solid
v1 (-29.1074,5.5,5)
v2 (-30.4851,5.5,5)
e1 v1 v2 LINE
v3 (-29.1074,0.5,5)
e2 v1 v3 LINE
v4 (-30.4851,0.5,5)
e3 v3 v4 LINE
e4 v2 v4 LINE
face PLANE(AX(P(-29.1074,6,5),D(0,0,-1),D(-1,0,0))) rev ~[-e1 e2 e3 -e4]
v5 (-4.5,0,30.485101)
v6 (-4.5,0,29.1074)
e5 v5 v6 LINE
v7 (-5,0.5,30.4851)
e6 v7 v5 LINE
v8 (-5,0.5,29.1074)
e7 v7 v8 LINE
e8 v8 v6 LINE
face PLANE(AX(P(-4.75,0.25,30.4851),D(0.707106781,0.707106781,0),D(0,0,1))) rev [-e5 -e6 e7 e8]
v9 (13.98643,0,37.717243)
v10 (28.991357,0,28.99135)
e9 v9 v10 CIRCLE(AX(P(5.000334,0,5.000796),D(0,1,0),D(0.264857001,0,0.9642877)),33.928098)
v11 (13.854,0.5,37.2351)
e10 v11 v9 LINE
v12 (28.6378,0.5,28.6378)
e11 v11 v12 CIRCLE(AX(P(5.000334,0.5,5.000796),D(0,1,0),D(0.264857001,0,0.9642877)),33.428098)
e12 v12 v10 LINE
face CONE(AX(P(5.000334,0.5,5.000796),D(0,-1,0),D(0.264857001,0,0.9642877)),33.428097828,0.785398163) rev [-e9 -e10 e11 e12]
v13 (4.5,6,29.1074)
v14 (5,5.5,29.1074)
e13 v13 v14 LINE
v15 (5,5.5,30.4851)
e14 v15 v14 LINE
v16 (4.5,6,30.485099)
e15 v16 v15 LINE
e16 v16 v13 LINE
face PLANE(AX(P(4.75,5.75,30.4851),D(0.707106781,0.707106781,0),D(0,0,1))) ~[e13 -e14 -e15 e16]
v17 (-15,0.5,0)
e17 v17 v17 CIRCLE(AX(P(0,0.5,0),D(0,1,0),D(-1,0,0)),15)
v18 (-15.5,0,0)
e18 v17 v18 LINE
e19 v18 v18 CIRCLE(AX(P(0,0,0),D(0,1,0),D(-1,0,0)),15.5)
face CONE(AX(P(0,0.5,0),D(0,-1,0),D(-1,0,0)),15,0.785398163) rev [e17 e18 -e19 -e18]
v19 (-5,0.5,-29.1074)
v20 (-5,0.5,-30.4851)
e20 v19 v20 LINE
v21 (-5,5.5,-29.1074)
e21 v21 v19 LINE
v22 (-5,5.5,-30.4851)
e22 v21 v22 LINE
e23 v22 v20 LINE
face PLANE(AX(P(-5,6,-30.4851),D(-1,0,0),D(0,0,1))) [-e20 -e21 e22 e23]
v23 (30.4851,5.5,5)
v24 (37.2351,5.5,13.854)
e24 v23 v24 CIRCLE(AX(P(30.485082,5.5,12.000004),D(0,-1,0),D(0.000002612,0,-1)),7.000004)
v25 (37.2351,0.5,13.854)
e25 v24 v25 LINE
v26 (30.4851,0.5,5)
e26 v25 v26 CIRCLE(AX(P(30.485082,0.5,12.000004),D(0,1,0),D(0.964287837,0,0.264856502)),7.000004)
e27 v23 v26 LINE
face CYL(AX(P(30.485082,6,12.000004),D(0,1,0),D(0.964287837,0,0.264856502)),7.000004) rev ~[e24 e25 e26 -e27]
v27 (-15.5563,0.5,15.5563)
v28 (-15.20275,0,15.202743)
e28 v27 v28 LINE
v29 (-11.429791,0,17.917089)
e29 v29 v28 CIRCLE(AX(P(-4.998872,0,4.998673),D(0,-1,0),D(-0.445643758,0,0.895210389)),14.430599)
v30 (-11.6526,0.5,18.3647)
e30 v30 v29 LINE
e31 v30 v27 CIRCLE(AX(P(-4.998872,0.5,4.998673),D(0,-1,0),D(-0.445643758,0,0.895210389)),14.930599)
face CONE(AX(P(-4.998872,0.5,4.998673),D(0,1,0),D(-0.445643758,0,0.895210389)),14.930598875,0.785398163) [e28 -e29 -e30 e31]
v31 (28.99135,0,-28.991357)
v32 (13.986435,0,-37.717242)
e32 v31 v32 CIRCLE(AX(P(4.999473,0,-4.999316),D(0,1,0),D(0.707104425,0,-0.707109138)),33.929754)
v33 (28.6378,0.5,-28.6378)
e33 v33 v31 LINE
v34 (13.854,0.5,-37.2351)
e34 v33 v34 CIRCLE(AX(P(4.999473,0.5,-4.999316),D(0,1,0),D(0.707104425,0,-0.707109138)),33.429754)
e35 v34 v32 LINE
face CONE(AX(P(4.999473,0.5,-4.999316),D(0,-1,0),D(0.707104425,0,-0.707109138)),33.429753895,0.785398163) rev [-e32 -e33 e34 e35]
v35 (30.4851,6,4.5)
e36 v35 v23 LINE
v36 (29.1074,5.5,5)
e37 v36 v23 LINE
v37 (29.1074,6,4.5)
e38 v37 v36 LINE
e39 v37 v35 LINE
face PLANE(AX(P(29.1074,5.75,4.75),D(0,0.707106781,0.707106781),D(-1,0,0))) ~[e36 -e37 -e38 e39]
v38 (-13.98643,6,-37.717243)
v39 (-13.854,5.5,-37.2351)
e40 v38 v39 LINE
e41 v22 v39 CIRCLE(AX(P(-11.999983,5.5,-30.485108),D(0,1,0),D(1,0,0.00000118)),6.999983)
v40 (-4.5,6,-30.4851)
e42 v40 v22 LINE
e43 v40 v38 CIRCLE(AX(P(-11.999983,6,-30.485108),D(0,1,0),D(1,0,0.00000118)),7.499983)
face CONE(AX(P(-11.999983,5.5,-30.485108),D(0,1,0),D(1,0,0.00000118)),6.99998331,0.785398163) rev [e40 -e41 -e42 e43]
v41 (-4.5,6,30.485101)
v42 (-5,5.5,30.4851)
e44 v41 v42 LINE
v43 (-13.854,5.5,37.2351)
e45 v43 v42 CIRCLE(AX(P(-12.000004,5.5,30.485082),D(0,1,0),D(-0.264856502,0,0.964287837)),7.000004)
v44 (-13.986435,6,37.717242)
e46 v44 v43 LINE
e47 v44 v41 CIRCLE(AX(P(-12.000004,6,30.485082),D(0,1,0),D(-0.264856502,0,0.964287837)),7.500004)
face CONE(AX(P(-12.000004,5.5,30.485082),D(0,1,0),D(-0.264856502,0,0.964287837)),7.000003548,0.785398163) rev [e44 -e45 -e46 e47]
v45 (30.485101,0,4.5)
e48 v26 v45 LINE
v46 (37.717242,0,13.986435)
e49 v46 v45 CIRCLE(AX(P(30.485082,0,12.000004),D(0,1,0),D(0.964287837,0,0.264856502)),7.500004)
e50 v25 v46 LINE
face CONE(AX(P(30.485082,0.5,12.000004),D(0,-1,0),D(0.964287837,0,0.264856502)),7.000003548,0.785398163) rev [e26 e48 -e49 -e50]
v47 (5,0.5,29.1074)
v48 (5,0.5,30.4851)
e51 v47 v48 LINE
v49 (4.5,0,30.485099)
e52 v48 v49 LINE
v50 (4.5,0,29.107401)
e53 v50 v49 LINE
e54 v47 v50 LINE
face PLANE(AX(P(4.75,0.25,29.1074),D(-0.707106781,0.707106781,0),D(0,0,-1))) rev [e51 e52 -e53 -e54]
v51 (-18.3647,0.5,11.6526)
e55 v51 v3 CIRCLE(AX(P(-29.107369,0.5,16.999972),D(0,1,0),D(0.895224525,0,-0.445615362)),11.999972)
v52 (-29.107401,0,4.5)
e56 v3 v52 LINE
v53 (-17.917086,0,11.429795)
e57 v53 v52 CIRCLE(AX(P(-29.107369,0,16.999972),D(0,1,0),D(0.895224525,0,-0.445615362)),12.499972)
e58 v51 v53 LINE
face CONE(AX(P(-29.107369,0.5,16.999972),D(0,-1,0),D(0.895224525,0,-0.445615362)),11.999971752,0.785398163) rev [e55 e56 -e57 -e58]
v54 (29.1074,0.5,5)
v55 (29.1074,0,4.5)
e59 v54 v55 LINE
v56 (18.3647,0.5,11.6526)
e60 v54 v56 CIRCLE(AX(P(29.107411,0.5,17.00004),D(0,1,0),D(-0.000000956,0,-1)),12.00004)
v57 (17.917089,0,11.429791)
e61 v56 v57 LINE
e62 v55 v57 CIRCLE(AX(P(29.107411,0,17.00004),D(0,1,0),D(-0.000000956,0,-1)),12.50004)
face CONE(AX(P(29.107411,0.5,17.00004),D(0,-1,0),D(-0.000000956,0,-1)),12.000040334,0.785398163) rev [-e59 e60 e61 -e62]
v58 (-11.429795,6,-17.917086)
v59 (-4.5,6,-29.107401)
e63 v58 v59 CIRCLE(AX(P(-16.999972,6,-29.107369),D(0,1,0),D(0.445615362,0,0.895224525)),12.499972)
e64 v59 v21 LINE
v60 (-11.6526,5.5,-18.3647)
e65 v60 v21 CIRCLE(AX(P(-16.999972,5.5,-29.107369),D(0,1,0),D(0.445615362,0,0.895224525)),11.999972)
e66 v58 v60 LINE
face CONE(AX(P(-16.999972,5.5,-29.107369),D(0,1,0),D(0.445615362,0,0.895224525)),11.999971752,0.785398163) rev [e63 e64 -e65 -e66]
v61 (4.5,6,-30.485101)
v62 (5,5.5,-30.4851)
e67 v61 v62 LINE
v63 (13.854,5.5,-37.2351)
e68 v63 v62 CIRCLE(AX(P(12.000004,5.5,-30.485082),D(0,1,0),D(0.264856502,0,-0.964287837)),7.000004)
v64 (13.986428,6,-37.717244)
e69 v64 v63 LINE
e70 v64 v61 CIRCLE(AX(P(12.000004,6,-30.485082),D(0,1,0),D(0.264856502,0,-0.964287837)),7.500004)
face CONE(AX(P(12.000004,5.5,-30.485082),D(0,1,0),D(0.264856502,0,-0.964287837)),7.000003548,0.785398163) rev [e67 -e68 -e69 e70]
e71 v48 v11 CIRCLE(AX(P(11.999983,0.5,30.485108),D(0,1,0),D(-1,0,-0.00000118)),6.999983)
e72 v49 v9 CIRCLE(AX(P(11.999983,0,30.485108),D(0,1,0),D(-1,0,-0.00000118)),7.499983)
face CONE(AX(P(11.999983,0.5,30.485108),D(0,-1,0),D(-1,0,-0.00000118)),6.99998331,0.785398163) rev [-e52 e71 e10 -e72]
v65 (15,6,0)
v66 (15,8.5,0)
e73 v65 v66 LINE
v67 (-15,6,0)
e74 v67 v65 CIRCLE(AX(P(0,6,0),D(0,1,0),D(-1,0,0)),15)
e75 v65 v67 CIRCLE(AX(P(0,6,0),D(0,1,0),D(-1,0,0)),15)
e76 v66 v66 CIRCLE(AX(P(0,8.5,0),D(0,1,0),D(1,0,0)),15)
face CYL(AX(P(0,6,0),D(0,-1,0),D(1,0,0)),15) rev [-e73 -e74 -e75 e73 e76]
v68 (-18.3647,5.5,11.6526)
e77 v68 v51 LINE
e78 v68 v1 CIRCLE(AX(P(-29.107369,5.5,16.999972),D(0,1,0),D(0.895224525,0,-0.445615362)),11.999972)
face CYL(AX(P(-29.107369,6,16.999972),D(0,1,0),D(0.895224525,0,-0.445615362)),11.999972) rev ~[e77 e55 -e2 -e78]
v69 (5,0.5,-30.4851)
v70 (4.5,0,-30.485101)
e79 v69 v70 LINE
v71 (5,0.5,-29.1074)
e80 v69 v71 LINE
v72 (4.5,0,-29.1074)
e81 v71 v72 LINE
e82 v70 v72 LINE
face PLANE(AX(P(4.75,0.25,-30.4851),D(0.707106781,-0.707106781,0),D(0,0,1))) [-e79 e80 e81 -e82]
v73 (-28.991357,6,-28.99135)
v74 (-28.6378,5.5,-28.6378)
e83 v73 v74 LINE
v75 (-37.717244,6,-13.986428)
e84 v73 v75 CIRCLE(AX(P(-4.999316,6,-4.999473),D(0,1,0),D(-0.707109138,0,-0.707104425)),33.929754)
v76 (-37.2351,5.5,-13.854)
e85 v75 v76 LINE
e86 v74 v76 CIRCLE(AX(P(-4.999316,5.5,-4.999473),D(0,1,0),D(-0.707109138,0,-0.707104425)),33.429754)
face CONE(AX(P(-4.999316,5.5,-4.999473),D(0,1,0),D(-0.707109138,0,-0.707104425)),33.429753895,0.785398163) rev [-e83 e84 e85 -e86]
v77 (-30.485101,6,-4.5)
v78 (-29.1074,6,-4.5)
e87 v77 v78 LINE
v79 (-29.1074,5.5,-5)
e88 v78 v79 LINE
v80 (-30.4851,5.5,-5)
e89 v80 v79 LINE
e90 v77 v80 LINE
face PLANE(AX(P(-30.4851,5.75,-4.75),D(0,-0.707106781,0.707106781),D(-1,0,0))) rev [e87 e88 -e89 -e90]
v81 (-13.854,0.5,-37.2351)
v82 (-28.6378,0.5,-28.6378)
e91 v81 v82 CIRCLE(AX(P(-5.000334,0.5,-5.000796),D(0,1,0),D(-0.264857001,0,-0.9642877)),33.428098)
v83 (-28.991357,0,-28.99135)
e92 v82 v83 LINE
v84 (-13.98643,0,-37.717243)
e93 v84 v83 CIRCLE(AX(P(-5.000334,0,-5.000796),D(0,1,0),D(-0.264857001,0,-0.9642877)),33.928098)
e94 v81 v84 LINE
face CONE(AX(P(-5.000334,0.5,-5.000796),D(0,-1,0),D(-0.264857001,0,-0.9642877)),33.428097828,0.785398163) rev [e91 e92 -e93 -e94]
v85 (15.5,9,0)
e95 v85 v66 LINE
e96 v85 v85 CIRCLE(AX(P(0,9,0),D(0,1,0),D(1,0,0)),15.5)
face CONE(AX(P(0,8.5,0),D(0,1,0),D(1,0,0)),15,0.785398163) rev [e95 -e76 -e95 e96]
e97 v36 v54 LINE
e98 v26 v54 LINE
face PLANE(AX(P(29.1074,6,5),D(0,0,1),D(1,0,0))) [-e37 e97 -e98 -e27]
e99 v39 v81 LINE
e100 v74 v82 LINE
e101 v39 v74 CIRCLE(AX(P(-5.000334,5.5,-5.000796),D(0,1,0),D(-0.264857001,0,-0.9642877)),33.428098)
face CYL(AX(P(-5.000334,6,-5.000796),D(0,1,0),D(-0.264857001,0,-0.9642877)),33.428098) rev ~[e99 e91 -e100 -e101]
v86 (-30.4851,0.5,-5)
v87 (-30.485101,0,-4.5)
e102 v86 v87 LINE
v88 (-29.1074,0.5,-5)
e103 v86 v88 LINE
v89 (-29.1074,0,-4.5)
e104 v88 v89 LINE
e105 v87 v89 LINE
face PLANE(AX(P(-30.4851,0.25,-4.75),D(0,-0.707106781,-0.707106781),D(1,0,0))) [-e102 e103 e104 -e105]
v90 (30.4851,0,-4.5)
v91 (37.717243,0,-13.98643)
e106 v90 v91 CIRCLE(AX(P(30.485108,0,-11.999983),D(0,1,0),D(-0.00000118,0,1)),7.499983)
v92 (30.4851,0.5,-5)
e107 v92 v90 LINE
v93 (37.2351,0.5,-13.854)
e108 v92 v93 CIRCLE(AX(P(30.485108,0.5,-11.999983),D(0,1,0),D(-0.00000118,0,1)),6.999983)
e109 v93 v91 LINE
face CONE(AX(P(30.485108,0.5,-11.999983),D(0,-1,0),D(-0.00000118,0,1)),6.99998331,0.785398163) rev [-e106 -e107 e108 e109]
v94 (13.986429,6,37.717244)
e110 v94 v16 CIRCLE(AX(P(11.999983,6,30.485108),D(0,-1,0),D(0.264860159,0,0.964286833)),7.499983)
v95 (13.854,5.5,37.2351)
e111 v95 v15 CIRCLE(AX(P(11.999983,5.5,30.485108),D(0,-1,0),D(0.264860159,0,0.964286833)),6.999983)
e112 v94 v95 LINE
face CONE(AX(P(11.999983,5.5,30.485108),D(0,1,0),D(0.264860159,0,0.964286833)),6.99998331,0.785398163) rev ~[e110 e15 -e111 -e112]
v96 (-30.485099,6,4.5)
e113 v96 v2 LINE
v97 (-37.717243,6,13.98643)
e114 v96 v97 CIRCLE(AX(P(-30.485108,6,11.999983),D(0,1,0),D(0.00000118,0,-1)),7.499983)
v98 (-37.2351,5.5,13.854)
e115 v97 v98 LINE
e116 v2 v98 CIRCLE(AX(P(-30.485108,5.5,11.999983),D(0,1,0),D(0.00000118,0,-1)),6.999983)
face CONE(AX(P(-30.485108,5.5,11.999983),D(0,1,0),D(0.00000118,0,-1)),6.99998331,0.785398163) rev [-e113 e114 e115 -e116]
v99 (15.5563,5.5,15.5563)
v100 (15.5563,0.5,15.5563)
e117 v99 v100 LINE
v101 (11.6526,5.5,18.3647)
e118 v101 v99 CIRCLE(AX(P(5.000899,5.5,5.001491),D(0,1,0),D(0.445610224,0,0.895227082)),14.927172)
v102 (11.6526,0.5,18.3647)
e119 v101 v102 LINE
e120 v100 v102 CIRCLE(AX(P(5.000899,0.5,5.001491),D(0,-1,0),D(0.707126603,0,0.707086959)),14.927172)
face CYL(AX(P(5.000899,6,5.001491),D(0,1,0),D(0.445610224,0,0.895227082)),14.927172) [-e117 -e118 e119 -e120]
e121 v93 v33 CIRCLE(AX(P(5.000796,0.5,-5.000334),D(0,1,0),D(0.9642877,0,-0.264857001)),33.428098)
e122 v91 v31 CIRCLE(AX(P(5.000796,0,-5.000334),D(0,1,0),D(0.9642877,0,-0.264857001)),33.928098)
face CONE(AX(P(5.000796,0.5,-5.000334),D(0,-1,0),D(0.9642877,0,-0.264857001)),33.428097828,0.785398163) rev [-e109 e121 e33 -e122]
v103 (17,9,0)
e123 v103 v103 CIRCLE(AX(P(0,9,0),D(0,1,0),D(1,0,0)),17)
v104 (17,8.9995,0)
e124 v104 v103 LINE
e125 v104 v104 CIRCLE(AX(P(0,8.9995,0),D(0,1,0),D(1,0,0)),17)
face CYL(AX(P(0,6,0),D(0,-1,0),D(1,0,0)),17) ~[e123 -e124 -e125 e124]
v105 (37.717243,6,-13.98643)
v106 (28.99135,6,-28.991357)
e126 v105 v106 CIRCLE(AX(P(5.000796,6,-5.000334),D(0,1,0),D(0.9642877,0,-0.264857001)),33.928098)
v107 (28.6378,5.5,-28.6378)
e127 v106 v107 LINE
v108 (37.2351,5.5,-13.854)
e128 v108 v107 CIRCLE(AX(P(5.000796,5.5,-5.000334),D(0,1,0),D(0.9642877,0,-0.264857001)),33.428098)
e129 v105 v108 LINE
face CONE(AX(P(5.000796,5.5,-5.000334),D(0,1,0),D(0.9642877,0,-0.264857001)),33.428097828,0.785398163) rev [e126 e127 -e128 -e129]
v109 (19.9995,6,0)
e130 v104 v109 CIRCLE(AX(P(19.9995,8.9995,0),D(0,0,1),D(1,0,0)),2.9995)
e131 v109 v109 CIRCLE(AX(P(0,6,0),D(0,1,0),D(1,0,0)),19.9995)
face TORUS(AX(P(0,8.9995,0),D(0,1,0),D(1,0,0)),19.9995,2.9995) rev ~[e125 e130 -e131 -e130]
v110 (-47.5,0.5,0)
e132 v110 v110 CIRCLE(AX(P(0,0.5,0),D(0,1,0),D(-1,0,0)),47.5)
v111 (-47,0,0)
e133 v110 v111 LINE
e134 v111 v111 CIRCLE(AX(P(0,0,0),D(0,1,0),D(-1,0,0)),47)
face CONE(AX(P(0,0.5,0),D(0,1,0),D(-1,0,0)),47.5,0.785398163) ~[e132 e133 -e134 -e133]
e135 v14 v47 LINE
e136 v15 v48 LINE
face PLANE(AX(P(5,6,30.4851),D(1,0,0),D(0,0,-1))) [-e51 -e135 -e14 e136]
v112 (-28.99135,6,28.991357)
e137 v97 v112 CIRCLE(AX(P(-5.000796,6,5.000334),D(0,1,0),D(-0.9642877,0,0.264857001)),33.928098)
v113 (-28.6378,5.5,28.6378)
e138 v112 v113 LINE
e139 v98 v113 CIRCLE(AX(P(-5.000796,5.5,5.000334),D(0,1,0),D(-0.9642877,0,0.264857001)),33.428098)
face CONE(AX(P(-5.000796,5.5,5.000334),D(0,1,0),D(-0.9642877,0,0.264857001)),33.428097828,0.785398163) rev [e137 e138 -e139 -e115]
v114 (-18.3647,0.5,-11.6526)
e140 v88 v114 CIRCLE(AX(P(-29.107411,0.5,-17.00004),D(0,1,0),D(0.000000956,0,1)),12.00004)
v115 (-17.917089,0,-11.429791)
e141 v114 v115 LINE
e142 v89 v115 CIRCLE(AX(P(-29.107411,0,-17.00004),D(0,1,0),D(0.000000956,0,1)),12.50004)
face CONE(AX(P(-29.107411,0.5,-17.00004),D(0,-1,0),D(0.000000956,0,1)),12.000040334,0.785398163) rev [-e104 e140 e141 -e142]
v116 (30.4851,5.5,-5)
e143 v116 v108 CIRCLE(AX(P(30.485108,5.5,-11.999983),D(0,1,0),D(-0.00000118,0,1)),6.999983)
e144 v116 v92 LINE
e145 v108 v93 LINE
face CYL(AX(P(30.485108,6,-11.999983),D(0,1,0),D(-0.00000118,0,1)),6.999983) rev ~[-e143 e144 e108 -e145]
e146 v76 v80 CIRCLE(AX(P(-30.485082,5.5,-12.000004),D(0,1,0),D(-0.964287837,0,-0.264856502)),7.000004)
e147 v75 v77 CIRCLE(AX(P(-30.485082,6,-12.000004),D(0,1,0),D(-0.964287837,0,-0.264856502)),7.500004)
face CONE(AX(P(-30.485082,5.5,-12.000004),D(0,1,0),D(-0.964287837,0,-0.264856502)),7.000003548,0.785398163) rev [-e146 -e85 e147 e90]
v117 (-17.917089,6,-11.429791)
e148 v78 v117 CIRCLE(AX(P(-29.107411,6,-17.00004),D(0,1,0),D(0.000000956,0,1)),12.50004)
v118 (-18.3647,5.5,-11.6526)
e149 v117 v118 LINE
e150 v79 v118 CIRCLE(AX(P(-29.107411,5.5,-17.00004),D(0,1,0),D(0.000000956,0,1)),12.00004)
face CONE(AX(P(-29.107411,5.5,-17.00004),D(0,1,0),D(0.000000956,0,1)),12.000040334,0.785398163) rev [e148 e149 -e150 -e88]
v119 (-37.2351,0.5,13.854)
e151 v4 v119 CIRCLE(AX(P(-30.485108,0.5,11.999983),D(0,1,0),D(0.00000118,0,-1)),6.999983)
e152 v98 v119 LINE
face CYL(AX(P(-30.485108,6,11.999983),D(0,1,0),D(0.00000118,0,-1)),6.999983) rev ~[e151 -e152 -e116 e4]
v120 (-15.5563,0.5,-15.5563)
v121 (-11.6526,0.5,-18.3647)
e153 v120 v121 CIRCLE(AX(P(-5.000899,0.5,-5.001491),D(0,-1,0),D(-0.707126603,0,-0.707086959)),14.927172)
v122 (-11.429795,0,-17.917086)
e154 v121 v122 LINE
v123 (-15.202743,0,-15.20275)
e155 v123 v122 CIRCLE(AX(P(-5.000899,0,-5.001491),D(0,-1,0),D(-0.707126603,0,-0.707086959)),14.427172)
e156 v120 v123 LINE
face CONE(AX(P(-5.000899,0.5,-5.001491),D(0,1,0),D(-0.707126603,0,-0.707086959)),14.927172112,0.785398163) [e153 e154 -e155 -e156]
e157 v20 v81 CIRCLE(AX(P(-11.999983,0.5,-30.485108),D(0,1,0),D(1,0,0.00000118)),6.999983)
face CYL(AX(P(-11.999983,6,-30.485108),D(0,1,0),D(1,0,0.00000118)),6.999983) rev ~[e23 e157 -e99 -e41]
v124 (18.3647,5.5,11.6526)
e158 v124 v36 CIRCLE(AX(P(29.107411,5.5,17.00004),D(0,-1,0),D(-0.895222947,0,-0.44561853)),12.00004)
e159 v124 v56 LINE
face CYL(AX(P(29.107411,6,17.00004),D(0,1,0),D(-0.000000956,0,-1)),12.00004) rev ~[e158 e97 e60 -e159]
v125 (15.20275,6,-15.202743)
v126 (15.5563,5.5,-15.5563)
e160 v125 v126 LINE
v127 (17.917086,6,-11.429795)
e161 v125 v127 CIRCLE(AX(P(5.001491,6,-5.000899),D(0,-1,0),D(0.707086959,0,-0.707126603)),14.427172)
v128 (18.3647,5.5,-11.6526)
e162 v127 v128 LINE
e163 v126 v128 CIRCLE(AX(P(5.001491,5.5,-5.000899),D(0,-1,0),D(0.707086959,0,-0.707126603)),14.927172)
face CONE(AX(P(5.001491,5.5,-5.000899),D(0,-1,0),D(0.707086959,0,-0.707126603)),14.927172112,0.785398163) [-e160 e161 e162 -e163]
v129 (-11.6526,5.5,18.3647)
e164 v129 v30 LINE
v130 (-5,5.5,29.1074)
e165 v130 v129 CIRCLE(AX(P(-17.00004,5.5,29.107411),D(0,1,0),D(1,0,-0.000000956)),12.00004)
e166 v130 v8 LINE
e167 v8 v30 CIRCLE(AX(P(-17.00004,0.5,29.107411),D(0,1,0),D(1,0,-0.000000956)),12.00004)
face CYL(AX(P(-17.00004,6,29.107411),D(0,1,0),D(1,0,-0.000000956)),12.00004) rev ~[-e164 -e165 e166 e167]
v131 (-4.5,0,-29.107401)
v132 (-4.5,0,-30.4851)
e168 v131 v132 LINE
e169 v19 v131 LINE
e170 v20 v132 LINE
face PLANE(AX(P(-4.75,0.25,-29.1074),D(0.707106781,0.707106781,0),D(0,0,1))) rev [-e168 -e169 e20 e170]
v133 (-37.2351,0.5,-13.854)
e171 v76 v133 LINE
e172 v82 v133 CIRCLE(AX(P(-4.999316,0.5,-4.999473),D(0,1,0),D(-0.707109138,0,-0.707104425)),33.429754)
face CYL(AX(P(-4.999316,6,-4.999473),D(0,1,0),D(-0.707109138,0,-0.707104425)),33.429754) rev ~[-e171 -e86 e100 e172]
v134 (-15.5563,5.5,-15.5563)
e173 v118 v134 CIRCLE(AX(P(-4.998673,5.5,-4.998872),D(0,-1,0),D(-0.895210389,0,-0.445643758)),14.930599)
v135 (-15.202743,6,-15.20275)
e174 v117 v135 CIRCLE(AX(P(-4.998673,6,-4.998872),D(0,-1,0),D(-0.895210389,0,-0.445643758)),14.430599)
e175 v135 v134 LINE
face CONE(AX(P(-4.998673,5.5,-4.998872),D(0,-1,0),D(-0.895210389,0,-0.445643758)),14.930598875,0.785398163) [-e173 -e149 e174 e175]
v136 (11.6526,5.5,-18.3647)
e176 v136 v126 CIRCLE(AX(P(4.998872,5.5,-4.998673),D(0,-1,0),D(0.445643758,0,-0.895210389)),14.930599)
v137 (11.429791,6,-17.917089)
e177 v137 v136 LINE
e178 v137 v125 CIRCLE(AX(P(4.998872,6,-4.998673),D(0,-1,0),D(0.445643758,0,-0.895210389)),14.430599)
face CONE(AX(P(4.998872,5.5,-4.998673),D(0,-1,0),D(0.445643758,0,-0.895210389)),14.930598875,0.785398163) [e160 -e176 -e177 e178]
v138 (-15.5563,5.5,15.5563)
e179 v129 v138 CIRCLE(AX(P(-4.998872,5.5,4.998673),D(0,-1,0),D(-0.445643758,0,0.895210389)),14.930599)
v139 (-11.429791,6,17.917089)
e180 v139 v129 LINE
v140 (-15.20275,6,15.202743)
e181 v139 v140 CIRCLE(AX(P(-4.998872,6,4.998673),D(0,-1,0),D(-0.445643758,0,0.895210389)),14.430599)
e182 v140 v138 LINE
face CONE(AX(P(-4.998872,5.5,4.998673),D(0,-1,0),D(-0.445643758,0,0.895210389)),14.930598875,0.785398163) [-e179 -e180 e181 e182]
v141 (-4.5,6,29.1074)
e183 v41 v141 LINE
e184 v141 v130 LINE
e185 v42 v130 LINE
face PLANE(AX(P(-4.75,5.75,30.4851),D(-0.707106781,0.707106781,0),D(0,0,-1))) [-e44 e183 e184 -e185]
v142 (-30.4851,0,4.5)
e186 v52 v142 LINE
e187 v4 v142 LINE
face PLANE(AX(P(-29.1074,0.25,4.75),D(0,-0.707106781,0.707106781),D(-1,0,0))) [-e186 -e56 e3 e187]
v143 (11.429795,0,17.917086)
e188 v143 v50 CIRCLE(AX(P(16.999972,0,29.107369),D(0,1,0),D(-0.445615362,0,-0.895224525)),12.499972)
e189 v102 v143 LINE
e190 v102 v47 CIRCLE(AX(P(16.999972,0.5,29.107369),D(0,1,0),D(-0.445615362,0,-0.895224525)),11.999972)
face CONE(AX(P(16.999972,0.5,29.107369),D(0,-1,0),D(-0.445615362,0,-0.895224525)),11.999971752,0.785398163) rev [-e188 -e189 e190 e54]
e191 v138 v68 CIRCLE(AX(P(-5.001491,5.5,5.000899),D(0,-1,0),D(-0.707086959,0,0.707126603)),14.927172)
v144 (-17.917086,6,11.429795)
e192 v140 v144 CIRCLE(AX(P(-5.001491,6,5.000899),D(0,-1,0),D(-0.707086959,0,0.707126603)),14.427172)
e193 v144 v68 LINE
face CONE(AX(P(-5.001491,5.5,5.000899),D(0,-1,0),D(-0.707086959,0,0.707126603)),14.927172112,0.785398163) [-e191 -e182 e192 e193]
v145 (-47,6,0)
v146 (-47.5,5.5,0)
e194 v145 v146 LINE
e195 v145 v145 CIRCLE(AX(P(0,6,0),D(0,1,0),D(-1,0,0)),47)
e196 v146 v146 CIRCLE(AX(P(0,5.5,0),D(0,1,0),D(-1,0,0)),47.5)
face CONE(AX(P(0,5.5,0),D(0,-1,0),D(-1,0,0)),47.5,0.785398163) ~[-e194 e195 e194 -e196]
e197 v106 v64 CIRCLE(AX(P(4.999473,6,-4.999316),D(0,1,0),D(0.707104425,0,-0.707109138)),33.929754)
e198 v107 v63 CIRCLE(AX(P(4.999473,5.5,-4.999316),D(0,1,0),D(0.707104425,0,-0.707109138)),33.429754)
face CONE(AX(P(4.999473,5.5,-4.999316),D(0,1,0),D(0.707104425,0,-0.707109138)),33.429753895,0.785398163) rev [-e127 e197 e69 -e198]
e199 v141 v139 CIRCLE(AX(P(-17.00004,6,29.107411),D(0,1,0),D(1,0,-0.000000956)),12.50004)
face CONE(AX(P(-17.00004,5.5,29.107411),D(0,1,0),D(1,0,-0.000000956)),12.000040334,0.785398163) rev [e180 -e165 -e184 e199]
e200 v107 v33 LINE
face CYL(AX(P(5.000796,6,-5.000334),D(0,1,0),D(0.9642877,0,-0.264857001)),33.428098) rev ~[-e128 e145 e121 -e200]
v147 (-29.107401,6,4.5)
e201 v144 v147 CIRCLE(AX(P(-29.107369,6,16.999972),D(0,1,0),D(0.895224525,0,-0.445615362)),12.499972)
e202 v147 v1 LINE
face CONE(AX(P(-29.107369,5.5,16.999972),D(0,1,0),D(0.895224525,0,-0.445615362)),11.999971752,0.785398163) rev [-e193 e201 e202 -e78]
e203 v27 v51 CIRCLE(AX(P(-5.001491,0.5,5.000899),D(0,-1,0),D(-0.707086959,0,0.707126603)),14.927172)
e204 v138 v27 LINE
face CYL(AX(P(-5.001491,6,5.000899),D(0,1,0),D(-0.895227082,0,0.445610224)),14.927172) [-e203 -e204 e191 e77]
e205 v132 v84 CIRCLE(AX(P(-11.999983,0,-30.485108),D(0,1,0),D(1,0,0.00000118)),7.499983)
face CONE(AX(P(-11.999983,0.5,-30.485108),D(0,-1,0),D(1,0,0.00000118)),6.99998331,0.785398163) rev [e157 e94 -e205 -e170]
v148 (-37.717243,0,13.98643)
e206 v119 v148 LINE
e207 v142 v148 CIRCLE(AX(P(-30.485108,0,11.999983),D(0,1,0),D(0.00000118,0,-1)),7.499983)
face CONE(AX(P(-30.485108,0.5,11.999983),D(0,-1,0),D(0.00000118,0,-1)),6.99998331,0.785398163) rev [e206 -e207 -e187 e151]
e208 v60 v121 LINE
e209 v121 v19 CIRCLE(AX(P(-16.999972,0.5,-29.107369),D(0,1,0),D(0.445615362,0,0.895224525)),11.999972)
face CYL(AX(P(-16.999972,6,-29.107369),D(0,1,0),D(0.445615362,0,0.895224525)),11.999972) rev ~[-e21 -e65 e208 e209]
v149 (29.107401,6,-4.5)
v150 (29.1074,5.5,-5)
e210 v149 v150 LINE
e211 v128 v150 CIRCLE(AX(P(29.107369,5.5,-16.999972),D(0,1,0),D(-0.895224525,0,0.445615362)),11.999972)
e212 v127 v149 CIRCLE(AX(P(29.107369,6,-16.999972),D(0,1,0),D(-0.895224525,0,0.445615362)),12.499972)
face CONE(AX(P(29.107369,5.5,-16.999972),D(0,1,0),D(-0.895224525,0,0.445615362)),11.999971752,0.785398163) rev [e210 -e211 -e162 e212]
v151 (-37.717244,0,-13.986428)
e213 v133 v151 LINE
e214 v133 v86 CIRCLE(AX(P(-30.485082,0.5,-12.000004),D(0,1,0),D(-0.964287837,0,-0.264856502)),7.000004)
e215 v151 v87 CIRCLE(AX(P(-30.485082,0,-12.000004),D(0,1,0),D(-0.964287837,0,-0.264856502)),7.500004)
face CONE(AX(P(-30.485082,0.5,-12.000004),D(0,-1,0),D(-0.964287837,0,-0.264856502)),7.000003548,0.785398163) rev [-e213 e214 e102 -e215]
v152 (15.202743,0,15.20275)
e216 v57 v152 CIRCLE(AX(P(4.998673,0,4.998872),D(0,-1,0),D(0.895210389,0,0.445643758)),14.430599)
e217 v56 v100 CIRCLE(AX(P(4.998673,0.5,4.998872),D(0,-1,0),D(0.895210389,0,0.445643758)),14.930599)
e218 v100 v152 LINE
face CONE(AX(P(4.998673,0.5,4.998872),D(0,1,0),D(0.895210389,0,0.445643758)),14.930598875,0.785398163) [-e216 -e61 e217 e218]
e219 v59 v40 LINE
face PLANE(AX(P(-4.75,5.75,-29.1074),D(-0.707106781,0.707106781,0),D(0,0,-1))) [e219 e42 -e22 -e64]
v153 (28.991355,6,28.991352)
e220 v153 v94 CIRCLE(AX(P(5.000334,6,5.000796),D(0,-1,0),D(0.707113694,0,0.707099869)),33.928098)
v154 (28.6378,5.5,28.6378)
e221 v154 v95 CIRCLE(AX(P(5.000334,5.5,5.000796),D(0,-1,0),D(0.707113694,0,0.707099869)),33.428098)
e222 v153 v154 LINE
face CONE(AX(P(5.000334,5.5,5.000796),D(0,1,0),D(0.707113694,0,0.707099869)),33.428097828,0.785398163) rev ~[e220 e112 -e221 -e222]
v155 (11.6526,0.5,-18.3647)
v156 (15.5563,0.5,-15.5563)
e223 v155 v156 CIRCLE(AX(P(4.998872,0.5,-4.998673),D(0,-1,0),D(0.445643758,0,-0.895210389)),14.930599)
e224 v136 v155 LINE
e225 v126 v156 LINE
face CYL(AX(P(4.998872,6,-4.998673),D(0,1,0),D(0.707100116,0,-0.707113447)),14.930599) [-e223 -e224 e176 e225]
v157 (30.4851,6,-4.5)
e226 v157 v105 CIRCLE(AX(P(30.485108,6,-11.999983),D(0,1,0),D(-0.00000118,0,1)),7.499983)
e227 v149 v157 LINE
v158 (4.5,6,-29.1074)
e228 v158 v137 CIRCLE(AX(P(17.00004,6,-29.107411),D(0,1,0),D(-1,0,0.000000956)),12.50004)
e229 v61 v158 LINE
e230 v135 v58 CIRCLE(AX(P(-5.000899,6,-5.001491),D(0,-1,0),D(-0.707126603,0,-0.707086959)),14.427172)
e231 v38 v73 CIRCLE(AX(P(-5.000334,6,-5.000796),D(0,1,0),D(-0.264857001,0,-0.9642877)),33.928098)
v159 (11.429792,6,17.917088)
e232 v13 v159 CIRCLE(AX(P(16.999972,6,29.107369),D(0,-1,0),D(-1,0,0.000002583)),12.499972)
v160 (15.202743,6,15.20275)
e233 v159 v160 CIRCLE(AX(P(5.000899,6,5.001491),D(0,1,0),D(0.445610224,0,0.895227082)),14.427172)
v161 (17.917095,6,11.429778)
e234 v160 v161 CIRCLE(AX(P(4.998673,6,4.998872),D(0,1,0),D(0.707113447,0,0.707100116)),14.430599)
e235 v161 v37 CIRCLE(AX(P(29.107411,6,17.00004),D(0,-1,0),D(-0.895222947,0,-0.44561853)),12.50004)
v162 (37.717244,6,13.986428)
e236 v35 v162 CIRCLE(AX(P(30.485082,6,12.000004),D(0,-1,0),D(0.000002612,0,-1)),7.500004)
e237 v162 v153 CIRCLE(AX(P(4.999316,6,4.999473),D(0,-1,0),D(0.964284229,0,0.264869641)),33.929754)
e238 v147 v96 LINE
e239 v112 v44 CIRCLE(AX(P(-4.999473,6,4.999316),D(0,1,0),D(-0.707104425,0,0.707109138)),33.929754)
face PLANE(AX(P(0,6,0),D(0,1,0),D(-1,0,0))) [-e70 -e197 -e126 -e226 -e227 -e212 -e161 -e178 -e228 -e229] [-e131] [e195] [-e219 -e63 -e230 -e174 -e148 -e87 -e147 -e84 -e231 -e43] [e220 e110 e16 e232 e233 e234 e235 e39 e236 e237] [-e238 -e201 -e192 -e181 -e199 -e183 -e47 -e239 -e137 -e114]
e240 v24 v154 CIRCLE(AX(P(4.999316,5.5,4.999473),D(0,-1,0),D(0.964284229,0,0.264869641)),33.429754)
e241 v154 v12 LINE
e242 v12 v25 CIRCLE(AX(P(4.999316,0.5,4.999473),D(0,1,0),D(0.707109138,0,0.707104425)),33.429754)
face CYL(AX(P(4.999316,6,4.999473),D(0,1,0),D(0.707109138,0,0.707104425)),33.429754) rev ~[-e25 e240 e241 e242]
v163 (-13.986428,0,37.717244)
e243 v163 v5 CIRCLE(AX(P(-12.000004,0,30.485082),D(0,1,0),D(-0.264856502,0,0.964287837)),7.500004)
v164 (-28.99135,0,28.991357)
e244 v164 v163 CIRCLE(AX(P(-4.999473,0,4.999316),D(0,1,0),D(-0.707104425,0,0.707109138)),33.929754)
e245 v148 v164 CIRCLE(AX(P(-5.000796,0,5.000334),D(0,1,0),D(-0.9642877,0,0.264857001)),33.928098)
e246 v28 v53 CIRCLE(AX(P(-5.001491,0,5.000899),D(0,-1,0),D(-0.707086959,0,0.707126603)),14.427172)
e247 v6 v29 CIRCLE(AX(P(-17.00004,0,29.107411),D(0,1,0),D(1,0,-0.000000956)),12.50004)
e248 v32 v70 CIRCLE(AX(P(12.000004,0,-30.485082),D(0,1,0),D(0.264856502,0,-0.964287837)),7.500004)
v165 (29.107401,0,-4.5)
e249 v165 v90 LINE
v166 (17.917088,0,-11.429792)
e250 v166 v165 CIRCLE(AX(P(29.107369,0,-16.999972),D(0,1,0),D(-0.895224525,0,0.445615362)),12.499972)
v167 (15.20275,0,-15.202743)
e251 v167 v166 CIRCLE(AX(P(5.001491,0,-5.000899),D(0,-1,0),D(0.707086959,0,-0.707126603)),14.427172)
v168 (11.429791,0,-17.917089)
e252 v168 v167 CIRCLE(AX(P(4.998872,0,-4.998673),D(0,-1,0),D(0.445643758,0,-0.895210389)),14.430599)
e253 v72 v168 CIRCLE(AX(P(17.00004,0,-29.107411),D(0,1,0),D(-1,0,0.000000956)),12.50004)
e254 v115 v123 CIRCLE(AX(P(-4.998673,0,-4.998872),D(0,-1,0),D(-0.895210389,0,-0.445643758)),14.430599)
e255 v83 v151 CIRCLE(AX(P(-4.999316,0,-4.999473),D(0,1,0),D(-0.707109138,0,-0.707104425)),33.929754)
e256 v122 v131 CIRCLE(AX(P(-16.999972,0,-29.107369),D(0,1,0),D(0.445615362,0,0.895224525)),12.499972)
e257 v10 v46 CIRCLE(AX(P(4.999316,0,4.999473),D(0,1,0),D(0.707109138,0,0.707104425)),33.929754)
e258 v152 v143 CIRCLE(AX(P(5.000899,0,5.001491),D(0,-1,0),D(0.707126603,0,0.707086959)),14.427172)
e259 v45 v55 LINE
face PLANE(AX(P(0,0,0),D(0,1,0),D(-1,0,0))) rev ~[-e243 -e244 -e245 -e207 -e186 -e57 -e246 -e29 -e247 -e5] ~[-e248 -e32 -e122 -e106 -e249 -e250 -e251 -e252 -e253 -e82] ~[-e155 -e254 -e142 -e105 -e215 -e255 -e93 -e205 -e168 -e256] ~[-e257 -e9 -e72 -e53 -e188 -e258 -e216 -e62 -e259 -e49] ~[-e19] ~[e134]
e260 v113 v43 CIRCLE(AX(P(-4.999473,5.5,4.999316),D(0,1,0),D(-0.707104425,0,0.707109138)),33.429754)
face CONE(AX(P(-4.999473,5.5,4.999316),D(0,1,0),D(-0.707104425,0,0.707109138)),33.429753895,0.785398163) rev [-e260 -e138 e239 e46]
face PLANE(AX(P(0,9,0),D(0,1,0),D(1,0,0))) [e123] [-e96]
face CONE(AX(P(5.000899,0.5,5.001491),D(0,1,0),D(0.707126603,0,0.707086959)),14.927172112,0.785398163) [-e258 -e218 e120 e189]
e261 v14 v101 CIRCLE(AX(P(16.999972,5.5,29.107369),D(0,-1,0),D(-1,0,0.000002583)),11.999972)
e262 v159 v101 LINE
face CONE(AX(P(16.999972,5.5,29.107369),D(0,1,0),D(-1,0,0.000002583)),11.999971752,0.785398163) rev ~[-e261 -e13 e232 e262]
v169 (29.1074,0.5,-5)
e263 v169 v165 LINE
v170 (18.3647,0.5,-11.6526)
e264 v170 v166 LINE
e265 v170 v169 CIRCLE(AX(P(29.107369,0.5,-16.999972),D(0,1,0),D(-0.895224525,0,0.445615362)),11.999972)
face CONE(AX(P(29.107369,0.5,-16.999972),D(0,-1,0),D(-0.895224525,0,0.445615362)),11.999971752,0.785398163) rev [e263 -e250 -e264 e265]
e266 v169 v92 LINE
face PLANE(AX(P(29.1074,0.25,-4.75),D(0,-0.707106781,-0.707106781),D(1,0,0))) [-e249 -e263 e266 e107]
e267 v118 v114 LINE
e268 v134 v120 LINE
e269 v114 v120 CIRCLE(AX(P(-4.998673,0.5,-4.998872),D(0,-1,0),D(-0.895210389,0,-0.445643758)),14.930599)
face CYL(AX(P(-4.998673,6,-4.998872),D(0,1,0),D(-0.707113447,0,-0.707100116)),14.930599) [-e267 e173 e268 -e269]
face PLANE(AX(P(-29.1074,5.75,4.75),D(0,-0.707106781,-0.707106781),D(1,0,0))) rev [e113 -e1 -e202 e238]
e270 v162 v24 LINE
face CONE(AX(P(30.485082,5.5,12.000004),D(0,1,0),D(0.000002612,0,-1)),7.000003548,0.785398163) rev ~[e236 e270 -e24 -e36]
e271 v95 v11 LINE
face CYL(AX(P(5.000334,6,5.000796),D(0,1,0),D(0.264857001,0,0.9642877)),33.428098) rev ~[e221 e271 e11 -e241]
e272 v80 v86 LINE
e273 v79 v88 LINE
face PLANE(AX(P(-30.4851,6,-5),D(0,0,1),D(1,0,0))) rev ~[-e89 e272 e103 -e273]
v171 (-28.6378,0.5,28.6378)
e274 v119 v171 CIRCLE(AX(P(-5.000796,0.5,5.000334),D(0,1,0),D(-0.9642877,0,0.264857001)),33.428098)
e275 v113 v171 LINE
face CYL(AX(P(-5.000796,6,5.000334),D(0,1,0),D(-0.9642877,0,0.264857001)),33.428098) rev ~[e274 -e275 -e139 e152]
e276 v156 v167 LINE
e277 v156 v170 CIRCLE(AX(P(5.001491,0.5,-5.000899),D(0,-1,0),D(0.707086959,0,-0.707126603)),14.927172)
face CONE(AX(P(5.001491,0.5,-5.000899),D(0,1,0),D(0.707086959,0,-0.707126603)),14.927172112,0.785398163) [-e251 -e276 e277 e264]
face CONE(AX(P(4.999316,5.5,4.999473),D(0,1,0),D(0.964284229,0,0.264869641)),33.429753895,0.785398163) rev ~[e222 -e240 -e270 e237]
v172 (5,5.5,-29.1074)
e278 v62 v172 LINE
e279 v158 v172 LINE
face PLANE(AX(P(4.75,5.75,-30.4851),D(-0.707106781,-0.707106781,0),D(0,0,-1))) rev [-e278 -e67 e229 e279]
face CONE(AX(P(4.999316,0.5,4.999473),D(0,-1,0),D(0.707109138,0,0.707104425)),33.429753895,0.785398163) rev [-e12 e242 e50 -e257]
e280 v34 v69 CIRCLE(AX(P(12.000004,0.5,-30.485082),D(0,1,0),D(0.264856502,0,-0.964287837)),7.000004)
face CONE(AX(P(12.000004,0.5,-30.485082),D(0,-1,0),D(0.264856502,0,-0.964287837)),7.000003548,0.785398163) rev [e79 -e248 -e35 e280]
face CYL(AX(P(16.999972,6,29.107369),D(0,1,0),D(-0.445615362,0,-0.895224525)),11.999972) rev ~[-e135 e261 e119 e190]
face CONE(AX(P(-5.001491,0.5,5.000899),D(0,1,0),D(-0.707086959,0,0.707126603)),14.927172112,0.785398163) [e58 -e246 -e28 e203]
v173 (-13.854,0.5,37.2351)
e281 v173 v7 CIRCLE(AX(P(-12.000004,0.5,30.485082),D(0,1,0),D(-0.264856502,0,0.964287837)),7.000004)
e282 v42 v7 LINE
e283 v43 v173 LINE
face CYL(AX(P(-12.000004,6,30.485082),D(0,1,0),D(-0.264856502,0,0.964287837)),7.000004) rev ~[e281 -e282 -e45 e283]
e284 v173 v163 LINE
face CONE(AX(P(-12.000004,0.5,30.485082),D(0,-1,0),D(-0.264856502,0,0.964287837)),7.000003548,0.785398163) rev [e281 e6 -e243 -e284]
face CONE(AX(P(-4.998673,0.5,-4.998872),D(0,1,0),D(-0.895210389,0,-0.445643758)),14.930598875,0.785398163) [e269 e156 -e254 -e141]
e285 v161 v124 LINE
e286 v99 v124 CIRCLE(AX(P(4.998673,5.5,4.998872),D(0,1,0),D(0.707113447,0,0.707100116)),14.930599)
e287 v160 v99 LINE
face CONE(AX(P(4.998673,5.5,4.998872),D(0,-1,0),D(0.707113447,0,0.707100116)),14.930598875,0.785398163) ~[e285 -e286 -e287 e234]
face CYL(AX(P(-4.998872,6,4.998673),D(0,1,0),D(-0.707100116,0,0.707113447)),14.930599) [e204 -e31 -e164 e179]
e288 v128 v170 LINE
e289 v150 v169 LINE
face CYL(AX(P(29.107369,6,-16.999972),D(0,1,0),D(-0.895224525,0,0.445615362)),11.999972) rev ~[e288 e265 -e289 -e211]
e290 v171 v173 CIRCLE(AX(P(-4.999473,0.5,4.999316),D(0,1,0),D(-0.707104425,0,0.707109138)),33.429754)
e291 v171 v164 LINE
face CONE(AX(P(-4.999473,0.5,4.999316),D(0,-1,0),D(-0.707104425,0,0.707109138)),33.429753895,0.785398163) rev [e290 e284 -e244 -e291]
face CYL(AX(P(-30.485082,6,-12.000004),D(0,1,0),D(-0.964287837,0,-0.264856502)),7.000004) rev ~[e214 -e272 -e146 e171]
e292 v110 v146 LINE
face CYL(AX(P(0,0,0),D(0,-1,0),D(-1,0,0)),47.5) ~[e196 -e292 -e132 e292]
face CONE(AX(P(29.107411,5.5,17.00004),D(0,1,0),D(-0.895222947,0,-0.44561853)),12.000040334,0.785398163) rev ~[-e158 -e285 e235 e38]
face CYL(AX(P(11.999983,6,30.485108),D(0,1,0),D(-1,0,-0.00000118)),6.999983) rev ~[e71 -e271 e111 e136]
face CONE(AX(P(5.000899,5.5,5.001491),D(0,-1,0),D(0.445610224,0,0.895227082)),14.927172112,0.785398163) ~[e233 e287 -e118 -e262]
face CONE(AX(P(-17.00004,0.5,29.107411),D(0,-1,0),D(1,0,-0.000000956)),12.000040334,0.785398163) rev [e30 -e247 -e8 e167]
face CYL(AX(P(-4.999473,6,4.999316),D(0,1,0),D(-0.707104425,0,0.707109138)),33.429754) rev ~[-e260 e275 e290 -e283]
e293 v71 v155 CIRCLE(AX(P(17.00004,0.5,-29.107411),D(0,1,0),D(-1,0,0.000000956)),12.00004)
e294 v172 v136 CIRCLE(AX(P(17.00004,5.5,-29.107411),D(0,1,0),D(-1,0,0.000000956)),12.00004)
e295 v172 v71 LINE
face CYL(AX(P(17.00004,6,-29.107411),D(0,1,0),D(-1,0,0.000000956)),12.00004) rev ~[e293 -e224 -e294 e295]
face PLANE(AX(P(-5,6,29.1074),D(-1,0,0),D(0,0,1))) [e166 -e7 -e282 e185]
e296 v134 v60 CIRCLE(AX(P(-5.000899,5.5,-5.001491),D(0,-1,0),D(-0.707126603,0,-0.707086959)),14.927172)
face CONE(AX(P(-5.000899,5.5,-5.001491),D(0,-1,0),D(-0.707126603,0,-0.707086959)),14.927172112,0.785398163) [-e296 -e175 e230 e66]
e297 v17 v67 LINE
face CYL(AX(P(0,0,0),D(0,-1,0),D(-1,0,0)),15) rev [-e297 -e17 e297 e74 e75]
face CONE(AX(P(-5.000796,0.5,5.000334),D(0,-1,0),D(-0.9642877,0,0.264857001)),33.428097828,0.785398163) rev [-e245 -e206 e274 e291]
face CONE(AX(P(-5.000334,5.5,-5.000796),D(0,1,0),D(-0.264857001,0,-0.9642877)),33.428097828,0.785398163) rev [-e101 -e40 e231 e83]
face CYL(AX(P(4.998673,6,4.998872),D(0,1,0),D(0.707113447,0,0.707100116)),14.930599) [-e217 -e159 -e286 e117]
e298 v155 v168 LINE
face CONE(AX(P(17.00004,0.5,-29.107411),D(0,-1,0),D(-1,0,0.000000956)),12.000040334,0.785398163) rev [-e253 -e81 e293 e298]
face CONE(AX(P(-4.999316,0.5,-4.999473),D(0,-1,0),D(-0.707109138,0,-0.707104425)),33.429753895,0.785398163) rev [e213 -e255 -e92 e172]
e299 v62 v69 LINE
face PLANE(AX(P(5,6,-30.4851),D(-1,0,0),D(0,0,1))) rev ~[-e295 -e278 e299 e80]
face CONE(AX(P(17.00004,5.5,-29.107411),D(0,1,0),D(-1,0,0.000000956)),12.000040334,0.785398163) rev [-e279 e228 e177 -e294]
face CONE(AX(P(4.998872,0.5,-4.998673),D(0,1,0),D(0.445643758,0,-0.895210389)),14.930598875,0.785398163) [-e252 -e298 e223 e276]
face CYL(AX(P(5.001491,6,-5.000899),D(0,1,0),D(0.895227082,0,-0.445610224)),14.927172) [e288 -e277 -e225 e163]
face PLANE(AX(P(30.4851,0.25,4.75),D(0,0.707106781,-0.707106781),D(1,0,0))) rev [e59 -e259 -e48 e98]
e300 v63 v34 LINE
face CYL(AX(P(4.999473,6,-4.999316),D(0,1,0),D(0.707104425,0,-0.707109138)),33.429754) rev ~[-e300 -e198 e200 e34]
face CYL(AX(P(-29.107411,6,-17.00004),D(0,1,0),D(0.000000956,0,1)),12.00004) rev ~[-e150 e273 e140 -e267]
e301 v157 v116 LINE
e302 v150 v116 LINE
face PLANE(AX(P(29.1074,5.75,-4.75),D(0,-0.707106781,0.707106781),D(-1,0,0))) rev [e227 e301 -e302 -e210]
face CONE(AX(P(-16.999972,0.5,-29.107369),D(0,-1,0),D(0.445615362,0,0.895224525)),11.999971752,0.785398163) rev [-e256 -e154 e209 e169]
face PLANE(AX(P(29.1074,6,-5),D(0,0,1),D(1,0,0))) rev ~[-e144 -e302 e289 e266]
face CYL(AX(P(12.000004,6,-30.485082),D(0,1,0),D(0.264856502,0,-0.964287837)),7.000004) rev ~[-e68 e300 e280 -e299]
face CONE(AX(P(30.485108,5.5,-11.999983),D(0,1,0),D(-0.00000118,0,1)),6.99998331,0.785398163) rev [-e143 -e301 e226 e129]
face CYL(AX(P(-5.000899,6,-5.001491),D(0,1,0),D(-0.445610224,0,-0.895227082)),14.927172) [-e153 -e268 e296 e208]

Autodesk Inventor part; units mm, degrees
ref_plane "YZ Plane" through (0, 0, 0) normal (1, 0, 0) x (0, 1, 0)
ref_plane "XZ Plane" through (0, 0, 0) normal (0, 1, 0) x (-1, 0, 0)
ref_plane "XY Plane" through (0, 0, 0) normal (0, 0, 1) x (1, 0, 0)
sketch "Szkic1" plane through (0, 0, 0) normal (0, 1, 0) x (-1, 0, 0)
  circle A0 centre (0, 0) radius 15
  circle A1 centre (0, 0) radius 47.5
  dimension "d0" = 30
  dimension "d1" = 95
extrude "Wyciągnięcie proste1" add sketch "Szkic1" along normal blind 6
sketch "Szkic2" plane through (0, 6, 0) normal (0, 1, 0) x (1, 0, 0)
  circle A0 centre (0, 0) radius 47.5 projected
  line L0 (0, 47.5) -> (5, 47.5)
  line L1 (5, 47.5) -> (-5, 47.5)
  line L2 (0, -47.5) -> (-5, -47.5)
  line L3 (0, -47.5) -> (5, -47.5) construction
  line L4 (-5, -47.5) -> (5, -47.5)
  line L5 (5, -30.4851) -> (5, -29.1074)
  line L6 (-5, 30.4851) -> (-5, 29.1074)
  line L7 (-47.5, 0) -> (-47.5, 5)
  line L8 (-47.5, 0) -> (-42.5, 0) construction
  line L9 (-47.5, 5) -> (-47.5, -5)
  line L10 (47.5, 0) -> (47.5, 5)
  line L11 (47.5, 0) -> (52.5, 0) construction
  line L12 (47.5, 5) -> (47.5, -5)
  line L13 (-29.1074, -5) -> (-30.4851, -5)
  line L14 (-30.4851, 5) -> (-29.1074, 5)
  line L15 (0, 0) -> (-10.6066, -10.6066)
  circle A1 centre (0, 0) radius 15 projected
  line L16 (0, 0) -> (15, 0) construction
  line L17 (-10.6066, -10.6066) -> (0, 0)
  line L18 (10.6066, 10.6066) -> (0, 0)
  line L19 (10.6066, 10.6066) -> (15.5563, 15.5563)
  line L20 (-10.6066, -10.6066) -> (-15.5563, -15.5563)
  line L21 (0, 0) -> (10.6066, -10.6066)
  line L22 (0, 0) -> (-10.6066, 10.6066)
  line L23 (-10.6066, 10.6066) -> (-15.5563, 15.5563)
  line L24 (10.6066, -10.6066) -> (15.5563, -15.5563)
  line L25 (33.5876, -33.5876) -> (28.6378, -28.6378)
  line L26 (33.5876, 33.5876) -> (28.6378, 28.6378)
  line L27 (-33.5876, 33.5876) -> (-28.6378, 28.6378)
  line L28 (-33.5876, -33.5876) -> (-28.6378, -28.6378)
  arc A2 (28.6378, 28.6378) -> (13.854, 37.2351) centre (5, 5) ccw
  arc A3 (37.2351, 13.854) -> (28.6378, 28.6378) centre (5, 5) ccw
  arc A4 (28.6378, -28.6378) -> (37.2351, -13.854) centre (5, -5) ccw
  arc A5 (13.854, -37.2351) -> (28.6378, -28.6378) centre (5, -5) ccw
  arc A6 (-37.2351, -13.854) -> (-28.6378, -28.6378) centre (-5, -5) ccw
  arc A7 (-28.6378, -28.6378) -> (-13.854, -37.2351) centre (-5, -5) ccw
  arc A8 (-28.6378, 28.6378) -> (-37.2351, 13.854) centre (-5, 5) ccw
  arc A9 (-13.854, 37.2351) -> (-28.6378, 28.6378) centre (-5, 5) ccw
  arc A10 (-11.6526, 18.3647) -> (-15.5563, 15.5563) centre (-5, 5) ccw
  arc A11 (-15.5563, 15.5563) -> (-18.3647, 11.6526) centre (-5, 5) ccw
  arc A12 (-18.3647, -11.6526) -> (-15.5563, -15.5563) centre (-5, -5) ccw
  arc A13 (-15.5563, -15.5563) -> (-11.6526, -18.3647) centre (-5, -5) ccw
  arc A14 (15.5563, -15.5563) -> (18.3647, -11.6526) centre (5, -5) ccw
  arc A15 (11.6526, -18.3647) -> (15.5563, -15.5563) centre (5, -5) ccw
  arc A16 (15.5563, 15.5563) -> (11.6526, 18.3647) centre (5, 5) ccw
  arc A17 (18.3647, 11.6526) -> (15.5563, 15.5563) centre (5, 5) ccw
  arc A18 (-5, 30.4851) -> (-13.854, 37.2351) centre (-12, 30.4851) ccw
  arc A19 (-37.2351, 13.854) -> (-30.4851, 5) centre (-30.4851, 12) ccw
  arc A20 (-30.4851, -5) -> (-37.2351, -13.854) centre (-30.4851, -12) ccw
  arc A21 (-13.854, -37.2351) -> (-5, -30.4851) centre (-12, -30.4851) ccw
  arc A22 (5, -30.4851) -> (13.854, -37.2351) centre (12, -30.4851) ccw
  arc A23 (37.2351, -13.854) -> (30.4851, -5) centre (30.4851, -12) ccw
  arc A24 (30.4851, 5) -> (37.2351, 13.854) centre (30.4851, 12) ccw
  arc A25 (13.854, 37.2351) -> (5, 30.4851) centre (12, 30.4851) ccw
  arc A26 (-11.6526, 18.3647) -> (-5, 29.1074) centre (-17, 29.1074) ccw
  arc A27 (-29.1074, 5) -> (-18.3647, 11.6526) centre (-29.1074, 17) ccw
  arc A28 (-18.3647, -11.6526) -> (-29.1074, -5) centre (-29.1074, -17) ccw
  line L29 (-5, -29.1074) -> (-5, -47.5)
  arc A29 (-5, -29.1074) -> (-11.6526, -18.3647) centre (-17, -29.1074) ccw
  arc A30 (11.6526, -18.3647) -> (5, -29.1074) centre (17, -29.1074) ccw
  line L30 (29.1074, -5) -> (47.5, -5)
  line L31 (5, 47.5) -> (5, 29.1074)
  line L32 (29.1074, 5) -> (47.5, 5)
  arc A31 (5, 29.1074) -> (11.6526, 18.3647) centre (17, 29.1074) ccw
  arc A32 (18.3647, 11.6526) -> (29.1074, 5) centre (29.1074, 17) ccw
  arc A33 (29.1074, -5) -> (18.3647, -11.6526) centre (29.1074, -17) ccw
  point P0 (5, 38.4289)
  point P1 (38.4289, 5)
  point P2 (38.4289, -5)
  point P3 (5, -38.4289)
  point P4 (-38.4289, -5)
  point P5 (-5, -38.4289)
  point P6 (-38.4289, 5)
  point P7 (-5, 38.4289)
  point P8 (-5, 19.9289)
  point P9 (-19.9289, 5)
  point P10 (-19.9289, -5)
  point P11 (-5, -19.9289)
  point P12 (19.9289, -5)
  point P13 (5, -19.9289)
  point P14 (5, 19.9289)
  point P15 (19.9289, 5)
  point P16 (30.4851, -5)
  point P17 (-5, -30.4851)
  dimension "d4" = 5
  dimension "d5" = 10
  dimension "d6" = 5
  dimension "d7" = 180
  dimension "d8" = 10
  dimension "d9" = 5
  dimension "d10" = 90
  dimension "d11" = 10
  dimension "d12" = 5
  dimension "d13" = 90
  dimension "d14" = 10
  dimension "d15" = 135
  dimension "d16" = 7
  dimension "d17" = 7
  dimension "d18" = 7
  dimension "d19" = 7
  dimension "d20" = 7
  dimension "d21" = 7
  dimension "d22" = 7
  dimension "d23" = 12
  dimension "d24" = 12
  dimension "d25" = 12
extrude "Wyciągnięcie proste2" cut sketch "Szkic2" against normal blind 6 contours A9 A18 L6 A26 A10 A11 A27 L14 A19 A8 | A25 A2 A3 A24 L32 A32 A17 A16 A31 L31 | A6 A20 L13 A28 A12 A13 A29 L29 A21 A7 | A23 A4 A5 A22 L5 A30 A15 A14 A33 L30
sketch "Szkic3" plane through (0, 6, 0) normal (0, 1, 0) x (1, 0, 0)
  circle A0 centre (0, 0) radius 15
  circle A1 centre (0, 0) radius 17
  dimension "d28" = 30
  dimension "d29" = 34
extrude "Wyciągnięcie proste3" add sketch "Szkic3" along normal blind 3
fillet "Zaokrąglenie1" radius 3 1 edges at (-17, 6, 0)
chamfer "Faza1" distance 0.5 angle 45 68 edges at (47.5, 6, 0) (47.5, 0, 0) (-36.0518, 6, -7.7561) (-28.6378, 6, -28.6378) (-7.7561, 6, -36.0518) (-5, 6, -29.7962) (-6.7978, 6, -22.7895) (-15.5563, 6, -15.5563) (-22.7895, 6, -6.7978) (-29.7962, 6, -5) (-36.0518, 6, 7.7561) (-29.7962, 6, 5) (-22.7895, 6, 6.7978) (-15.5563, 6, 15.5563) (-6.7978, 6, 22.7895) (-5, 6, 29.7962) (-7.7561, 6, 36.0518) (-28.6378, 6, 28.6378) (7.7561, 6, -36.0518) (28.6378, 6, -28.6378) (36.0518, 6, -7.7561) (29.7962, 6, -5) (22.7895, 6, -6.7978) (15.5563, 6, -15.5563) (6.7978, 6, -22.7895) (5, 6, -29.7962) (15.5563, 6, 15.5563) (22.7895, 6, 6.7978) (29.7962, 6, 5) (36.0518, 6, 7.7561) (28.6378, 6, 28.6378) (7.7561, 6, 36.0518) (5, 6, 29.7962) (6.7978, 6, 22.7895) (7.7561, 0, 36.0518) (28.6378, 0, 28.6378) (36.0518, 0, 7.7561) (29.7962, 0, 5) (22.7895, 0, 6.7978) (15.5563, 0, 15.5563) (6.7978, 0, 22.7895) (5, 0, 29.7962) (-7.7561, 0, 36.0518) (-5, 0, 29.7962) (-6.7978, 0, 22.7895) (-15.5563, 0, 15.5563) (-22.7895, 0, 6.7978) (-29.7962, 0, 5) (-36.0518, 0, 7.7561) (-28.6378, 0, 28.6378) (22.7895, 0, -6.7978) (29.7962, 0, -5) (36.0518, 0, -7.7561) (28.6378, 0, -28.6378) (7.7561, 0, -36.0518) (5, 0, -29.7962) (6.7978, 0, -22.7895) (15.5563, 0, -15.5563) (-28.6378, 0, -28.6378) (-36.0518, 0, -7.7561) (-29.7962, 0, -5) (-22.7895, 0, -6.7978) (-15.5563, 0, -15.5563) (-6.7978, 0, -22.7895) (-5, 0, -29.7962) (-7.7561, 0, -36.0518) (-15, 9, 0) (15, 0, 0)
